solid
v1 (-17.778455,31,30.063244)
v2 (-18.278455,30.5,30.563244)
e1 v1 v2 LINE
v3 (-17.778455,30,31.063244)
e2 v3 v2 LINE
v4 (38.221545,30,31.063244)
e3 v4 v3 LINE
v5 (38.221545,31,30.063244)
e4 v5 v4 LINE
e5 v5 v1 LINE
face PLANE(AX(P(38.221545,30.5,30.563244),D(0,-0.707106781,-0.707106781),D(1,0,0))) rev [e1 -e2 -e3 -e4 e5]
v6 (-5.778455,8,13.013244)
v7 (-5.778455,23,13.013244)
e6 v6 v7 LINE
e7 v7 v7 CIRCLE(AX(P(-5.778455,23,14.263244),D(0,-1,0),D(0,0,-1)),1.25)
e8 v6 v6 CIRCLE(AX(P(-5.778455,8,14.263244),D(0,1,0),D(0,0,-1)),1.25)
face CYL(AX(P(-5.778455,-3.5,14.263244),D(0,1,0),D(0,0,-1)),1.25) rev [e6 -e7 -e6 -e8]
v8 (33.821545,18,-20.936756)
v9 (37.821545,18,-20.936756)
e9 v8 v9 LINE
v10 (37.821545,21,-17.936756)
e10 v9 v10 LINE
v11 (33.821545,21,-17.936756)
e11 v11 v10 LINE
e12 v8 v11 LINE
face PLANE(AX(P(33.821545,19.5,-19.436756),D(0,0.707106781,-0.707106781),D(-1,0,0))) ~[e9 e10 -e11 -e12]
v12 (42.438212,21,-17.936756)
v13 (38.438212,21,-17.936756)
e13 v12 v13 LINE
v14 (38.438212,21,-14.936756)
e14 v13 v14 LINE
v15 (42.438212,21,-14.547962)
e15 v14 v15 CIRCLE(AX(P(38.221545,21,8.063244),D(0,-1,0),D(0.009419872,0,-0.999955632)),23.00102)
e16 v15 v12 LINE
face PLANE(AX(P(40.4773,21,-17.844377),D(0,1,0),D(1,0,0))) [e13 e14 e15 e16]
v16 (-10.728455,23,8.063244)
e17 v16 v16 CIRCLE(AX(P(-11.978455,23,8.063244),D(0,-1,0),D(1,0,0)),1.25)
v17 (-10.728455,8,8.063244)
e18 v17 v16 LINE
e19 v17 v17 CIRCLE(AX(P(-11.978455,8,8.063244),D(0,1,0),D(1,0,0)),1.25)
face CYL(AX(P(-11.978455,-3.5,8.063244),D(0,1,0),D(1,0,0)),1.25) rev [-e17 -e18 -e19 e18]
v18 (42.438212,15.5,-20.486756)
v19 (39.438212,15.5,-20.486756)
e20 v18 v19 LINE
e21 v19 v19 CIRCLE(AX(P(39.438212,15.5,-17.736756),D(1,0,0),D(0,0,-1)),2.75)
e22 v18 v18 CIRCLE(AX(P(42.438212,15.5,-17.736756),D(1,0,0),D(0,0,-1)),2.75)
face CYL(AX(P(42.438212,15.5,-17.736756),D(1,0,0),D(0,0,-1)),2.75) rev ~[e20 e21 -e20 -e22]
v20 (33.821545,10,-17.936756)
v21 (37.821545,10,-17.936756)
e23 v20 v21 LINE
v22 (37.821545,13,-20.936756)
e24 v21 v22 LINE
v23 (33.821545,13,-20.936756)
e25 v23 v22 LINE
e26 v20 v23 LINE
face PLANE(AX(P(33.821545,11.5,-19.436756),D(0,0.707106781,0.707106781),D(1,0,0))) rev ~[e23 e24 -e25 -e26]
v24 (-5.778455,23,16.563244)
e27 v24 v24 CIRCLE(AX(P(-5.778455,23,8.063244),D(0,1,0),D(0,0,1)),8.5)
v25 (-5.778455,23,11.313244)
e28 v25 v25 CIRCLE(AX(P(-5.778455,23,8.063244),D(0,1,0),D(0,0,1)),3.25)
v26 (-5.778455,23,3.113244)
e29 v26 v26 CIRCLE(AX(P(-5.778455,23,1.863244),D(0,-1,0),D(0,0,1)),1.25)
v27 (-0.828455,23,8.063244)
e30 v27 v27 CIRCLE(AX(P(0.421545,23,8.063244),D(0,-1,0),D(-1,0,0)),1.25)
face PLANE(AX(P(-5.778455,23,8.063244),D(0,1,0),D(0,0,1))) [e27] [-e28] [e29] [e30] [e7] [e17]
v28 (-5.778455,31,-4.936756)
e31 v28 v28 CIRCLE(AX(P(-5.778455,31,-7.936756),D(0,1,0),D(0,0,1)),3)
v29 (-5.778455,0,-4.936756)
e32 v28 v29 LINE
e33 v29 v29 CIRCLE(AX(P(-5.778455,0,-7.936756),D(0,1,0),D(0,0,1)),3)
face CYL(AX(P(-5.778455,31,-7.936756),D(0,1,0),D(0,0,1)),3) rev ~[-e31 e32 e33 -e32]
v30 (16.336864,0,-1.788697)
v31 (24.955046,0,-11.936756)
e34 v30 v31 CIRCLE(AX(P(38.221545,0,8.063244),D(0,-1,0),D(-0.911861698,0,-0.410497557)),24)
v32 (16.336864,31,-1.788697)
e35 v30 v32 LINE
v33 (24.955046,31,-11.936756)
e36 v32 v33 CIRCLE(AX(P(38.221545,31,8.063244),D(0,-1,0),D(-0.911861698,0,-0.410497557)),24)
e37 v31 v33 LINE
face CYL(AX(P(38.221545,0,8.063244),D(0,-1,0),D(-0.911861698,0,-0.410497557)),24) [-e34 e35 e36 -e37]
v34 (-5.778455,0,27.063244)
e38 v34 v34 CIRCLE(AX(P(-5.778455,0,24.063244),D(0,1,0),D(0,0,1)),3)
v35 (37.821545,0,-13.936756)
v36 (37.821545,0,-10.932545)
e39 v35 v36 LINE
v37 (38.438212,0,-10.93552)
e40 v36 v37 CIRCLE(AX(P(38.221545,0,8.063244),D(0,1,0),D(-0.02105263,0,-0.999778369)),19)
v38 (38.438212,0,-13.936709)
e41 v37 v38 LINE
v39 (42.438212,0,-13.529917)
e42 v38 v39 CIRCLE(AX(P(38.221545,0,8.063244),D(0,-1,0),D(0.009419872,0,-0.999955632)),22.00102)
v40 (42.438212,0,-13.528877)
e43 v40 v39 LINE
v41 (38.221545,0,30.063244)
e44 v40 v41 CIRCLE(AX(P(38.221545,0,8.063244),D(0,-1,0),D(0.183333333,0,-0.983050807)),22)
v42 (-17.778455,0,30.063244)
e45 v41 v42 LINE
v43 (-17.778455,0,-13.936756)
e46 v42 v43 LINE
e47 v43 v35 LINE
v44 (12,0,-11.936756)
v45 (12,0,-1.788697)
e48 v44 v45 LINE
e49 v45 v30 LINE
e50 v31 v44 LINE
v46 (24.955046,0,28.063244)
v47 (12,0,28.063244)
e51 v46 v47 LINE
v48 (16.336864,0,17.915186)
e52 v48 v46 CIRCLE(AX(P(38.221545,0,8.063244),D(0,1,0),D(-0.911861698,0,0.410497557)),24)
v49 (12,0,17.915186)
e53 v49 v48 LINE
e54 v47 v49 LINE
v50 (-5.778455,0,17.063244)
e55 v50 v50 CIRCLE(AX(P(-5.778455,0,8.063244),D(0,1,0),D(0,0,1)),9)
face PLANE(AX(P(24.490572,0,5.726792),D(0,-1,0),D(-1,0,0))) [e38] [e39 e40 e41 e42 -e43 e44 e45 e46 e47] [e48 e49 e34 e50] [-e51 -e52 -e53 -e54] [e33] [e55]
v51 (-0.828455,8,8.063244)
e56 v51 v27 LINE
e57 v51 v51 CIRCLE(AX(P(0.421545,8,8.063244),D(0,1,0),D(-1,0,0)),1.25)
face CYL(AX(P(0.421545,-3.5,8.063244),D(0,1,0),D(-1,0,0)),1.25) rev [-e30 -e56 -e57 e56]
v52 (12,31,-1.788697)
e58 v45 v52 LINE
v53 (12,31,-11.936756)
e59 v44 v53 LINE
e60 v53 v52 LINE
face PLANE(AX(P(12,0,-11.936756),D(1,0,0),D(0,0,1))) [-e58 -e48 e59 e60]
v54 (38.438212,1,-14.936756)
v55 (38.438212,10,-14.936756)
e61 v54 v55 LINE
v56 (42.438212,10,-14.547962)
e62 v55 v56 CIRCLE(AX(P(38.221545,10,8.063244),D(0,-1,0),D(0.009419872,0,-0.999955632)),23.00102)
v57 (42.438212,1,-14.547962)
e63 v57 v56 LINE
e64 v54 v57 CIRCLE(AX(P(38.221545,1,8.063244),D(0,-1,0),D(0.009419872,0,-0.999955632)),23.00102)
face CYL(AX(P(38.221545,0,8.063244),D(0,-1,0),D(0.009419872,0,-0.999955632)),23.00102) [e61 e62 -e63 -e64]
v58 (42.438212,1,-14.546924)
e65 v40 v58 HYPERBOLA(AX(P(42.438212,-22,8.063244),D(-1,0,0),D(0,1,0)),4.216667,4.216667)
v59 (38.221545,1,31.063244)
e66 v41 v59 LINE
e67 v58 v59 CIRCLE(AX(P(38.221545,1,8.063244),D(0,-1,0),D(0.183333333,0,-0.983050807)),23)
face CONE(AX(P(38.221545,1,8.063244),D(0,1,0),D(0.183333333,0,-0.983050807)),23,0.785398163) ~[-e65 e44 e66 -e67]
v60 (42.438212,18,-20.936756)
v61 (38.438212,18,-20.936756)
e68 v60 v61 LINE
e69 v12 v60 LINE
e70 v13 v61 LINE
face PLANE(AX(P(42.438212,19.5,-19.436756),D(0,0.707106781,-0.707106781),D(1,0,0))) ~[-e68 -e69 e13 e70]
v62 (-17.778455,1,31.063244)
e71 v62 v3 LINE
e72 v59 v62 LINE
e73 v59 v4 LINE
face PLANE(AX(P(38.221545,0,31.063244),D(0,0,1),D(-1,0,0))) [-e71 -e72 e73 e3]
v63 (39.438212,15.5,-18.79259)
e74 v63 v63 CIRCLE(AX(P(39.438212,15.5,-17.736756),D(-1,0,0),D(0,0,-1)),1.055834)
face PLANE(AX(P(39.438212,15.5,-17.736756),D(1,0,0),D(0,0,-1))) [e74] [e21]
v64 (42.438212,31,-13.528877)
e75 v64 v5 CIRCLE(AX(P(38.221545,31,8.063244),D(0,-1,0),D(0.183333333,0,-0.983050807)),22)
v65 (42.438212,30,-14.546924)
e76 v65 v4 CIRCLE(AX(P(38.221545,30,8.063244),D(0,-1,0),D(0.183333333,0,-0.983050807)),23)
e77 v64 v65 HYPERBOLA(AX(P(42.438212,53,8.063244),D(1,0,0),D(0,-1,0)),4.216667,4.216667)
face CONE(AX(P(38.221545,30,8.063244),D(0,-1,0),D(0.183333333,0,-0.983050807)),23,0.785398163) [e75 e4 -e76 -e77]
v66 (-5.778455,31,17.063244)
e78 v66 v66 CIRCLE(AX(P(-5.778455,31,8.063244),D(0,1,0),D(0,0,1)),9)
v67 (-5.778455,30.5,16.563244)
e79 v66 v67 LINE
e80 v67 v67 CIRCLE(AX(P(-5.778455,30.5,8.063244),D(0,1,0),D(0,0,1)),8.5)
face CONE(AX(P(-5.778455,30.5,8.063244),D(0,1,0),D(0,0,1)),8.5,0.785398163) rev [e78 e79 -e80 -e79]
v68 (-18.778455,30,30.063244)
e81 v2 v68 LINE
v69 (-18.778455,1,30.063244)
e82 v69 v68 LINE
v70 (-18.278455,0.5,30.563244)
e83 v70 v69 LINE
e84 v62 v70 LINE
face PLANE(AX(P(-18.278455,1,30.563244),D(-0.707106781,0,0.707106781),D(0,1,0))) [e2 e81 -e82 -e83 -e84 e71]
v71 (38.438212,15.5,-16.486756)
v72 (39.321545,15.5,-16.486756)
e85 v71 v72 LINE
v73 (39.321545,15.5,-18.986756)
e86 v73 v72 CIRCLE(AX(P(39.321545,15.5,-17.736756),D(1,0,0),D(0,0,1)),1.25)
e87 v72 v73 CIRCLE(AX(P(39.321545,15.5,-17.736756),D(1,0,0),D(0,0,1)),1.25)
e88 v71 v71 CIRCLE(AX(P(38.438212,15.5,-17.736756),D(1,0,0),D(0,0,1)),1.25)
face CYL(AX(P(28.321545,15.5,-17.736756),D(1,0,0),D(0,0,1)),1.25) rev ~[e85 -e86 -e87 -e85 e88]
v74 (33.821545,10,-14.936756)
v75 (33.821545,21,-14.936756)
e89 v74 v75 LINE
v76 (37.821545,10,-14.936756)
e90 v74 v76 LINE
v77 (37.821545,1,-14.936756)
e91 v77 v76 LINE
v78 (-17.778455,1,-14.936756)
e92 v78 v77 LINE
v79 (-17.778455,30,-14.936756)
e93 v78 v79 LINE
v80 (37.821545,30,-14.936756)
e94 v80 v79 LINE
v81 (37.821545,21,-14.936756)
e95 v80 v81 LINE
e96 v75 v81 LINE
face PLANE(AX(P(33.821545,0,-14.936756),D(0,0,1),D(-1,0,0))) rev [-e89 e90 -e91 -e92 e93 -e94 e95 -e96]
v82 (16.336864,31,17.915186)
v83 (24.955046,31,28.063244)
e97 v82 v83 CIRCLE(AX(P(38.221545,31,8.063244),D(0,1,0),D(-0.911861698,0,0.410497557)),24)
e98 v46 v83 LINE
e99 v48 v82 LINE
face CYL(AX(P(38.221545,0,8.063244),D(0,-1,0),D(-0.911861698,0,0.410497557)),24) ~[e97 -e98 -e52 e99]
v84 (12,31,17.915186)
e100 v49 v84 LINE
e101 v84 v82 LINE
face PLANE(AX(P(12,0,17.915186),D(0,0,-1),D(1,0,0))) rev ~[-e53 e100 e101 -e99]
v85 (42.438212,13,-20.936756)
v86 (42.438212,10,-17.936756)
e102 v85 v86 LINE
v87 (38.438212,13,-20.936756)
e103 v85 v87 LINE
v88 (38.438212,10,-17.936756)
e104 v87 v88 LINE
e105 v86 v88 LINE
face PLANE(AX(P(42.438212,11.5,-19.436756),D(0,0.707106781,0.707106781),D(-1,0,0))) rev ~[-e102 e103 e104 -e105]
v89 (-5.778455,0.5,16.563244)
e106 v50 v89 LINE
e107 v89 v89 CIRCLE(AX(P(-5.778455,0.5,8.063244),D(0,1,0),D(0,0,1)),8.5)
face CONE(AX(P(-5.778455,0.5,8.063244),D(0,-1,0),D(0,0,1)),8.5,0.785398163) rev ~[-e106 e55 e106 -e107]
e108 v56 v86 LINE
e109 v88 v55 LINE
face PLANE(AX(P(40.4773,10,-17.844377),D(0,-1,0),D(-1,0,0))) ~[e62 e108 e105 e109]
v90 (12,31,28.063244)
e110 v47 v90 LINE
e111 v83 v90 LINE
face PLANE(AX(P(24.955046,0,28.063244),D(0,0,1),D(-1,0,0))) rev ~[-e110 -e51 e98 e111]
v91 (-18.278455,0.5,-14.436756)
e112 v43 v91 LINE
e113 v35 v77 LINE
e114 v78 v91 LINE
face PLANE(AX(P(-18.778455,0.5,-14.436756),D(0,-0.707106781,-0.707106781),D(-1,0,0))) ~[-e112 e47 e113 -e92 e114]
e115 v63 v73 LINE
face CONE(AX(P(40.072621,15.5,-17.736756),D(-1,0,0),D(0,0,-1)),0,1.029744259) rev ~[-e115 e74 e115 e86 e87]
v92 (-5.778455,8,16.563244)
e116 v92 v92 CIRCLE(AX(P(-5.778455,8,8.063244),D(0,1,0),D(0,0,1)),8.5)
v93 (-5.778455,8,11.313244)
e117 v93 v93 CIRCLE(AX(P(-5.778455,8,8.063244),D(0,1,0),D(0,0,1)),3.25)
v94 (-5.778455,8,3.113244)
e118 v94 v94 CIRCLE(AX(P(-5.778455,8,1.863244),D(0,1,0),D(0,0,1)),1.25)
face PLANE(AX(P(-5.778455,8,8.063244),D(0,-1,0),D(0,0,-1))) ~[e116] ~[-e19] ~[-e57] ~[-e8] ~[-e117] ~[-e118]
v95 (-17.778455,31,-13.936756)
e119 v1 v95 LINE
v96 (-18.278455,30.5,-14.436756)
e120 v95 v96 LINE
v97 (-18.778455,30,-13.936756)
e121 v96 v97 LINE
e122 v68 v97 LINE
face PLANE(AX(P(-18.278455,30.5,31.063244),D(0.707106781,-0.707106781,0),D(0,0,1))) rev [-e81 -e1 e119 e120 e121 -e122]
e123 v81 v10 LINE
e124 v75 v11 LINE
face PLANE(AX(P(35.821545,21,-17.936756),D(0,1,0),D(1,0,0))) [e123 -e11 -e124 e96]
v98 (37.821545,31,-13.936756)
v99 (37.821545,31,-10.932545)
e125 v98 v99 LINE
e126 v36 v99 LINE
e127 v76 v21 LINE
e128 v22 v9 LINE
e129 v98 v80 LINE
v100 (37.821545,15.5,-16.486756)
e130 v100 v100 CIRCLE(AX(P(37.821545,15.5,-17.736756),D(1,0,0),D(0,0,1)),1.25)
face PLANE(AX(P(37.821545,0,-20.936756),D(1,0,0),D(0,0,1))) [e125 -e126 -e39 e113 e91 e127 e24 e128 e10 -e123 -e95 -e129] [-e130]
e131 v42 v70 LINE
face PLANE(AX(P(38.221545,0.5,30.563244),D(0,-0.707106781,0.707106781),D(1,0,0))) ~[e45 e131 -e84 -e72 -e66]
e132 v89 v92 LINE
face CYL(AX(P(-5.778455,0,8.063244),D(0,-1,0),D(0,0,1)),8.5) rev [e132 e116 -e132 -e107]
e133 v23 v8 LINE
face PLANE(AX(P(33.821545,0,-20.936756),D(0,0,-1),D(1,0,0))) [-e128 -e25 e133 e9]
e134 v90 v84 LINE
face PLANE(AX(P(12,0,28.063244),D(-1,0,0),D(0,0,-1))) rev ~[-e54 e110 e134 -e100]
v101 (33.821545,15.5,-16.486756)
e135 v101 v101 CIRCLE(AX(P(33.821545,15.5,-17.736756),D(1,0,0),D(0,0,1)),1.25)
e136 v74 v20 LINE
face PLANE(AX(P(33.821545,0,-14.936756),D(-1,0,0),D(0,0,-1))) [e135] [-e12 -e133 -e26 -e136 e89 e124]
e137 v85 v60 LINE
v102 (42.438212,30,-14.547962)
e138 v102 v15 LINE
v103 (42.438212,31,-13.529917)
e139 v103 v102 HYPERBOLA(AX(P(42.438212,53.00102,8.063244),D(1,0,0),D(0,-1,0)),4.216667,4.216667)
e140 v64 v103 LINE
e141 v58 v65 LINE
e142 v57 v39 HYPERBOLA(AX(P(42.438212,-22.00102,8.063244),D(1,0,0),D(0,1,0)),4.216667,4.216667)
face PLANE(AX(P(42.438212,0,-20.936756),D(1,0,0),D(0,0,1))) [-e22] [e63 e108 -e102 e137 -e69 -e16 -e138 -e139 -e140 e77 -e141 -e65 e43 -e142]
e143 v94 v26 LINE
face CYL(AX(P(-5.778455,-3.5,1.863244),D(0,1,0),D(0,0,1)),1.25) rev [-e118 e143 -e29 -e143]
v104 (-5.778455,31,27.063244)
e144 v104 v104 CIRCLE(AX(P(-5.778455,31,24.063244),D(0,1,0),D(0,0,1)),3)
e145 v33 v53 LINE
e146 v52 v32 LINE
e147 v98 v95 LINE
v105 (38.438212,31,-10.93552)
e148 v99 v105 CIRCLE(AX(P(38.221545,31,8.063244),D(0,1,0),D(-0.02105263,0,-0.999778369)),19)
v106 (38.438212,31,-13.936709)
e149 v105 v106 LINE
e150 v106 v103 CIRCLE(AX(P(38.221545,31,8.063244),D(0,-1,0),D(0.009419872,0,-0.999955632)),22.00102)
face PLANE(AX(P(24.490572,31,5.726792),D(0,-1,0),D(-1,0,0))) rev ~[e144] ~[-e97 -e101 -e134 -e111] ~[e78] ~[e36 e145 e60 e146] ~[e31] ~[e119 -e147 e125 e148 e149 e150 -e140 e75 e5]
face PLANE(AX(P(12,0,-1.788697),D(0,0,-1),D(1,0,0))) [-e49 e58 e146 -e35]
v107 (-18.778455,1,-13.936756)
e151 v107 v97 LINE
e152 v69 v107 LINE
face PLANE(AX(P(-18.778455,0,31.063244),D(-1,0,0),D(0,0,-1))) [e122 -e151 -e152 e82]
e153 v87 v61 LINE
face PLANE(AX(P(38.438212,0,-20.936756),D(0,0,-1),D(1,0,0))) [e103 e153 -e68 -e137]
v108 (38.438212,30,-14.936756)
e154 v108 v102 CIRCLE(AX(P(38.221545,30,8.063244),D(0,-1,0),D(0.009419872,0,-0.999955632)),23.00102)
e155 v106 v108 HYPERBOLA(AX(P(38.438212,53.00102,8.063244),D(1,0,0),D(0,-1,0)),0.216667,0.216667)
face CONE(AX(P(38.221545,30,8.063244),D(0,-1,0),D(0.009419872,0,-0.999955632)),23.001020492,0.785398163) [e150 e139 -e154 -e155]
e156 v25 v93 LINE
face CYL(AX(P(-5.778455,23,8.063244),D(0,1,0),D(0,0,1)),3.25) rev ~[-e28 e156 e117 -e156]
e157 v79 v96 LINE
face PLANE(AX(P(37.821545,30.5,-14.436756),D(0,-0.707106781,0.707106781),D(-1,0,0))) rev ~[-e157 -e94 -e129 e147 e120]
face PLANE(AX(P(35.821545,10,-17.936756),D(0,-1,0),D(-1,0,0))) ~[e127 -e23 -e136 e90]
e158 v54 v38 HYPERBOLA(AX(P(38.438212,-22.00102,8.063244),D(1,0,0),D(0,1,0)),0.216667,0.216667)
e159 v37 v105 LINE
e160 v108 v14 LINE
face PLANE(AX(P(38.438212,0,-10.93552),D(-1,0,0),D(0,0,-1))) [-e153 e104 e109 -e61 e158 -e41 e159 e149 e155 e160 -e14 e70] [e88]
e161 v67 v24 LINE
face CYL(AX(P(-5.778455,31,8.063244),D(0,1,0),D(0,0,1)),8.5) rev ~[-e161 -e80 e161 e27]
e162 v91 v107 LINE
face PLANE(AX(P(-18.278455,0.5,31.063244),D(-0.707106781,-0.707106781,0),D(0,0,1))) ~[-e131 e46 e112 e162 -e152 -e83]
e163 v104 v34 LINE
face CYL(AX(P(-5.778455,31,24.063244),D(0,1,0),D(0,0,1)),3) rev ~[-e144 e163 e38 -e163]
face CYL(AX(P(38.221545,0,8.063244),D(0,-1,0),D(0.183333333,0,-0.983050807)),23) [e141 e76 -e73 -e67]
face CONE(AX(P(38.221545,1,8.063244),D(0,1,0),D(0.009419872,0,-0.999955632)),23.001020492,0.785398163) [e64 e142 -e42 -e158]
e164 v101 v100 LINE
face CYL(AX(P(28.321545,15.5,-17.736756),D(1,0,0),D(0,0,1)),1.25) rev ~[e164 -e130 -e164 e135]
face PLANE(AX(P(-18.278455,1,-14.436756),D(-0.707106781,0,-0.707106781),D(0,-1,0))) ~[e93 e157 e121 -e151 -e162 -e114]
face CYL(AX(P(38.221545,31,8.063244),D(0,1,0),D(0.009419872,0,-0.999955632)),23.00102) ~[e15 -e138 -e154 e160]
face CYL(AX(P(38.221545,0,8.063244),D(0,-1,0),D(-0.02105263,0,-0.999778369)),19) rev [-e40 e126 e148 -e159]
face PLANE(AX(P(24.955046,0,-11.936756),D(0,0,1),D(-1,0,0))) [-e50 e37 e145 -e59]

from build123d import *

# Parameters (mm, degrees)
BOSS_EXTRUDE1_DEPTH       = 31
SKETCH2_W                 = 4
SKETCH2_H                 = 6
CUT_EXTRUDE1_DEPTH        = 10
CHAMFER1_SIZE             = 3
SKETCH3_R                 = 1
CUT_EXTRUDE2_DEPTH        = 12
SKETCH4_R                 = 2.75
CUT_EXTRUDE3_DEPTH        = 3
M3X0_5_TAPPED_HOLE1_D     = 2.5
M3X0_5_TAPPED_HOLE1_DEPTH = 5.5
M3X0_5_TAPPED_HOLE1_TIP   = 0.751075774
CHAMFER2_SIZE             = 1
CHAMFER3_SIZE             = 1
CHAMFER4_SIZE             = 1
CHAMFER5_SIZE             = 1
CHAMFER6_SIZE             = 1
SKETCH6_R                 = 3
CUT_EXTRUDE4_DEPTH        = 76.325976363
SKETCH7_R                 = 8.5
CUT_EXTRUDE5_DEPTH        = 8
CHAMFER7_SIZE             = 0.5
CHAMFER8_SIZE             = 0.5
SKETCH8_R                 = 3.25
CUT_EXTRUDE6_DEPTH        = 73.401676189
SKETCH9_R                 = 1
CUT_EXTRUDE7_DEPTH        = 26
CIRPATTERN1_COUNT         = 4


with BuildPart() as part:
    # Sketch1 → Boss-Extrude1 (new body)
    with BuildSketch(Plane(origin=(0, 0, 0), x_dir=(1, 0, 0), z_dir=(0, 1, 0))):
        with BuildLine():
            Line((38.438211647, 10.935520299), (38.438211647, 20.93675572))
            Line((38.438211647, 20.93675572), (42.438211647, 20.93675572))
            Line((42.438211647, 20.93675572), (42.438211647, 14.546924278))
            ThreePointArc((42.438211647, 14.546924278), (61.123879761, -10.180568437), (38.22154498, -31.06324428))
            Line((38.22154498, -31.06324428), (-18.77845502, -31.06324428))
            Line((-18.77845502, -31.06324428), (-18.77845502, 14.93675572))
            Line((-18.77845502, 14.93675572), (33.82154498, 14.93675572))
            Line((33.82154498, 14.93675572), (33.82154498, 20.93675572))
            Line((33.82154498, 20.93675572), (37.82154498, 20.93675572))
            Line((37.82154498, 20.93675572), (37.82154498, 10.932544727))
            ThreePointArc((37.82154498, 10.932544727), (38.31322372, -27.063023095), (38.438211647, 10.935520299))
        make_face()
        with BuildLine():
            Line((12, 11.93675572), (12, 1.788697084))
            Line((12, 1.788697084), (16.336864234, 1.788697084))
            ThreePointArc((16.336864234, 1.788697084), (19.928181819, 7.472291251), (24.955045819, 11.93675572))
            Line((24.955045819, 11.93675572), (12, 11.93675572))
        make_face(mode=Mode.SUBTRACT)
        with BuildLine():
            Line((12, -17.915185645), (16.336864234, -17.915185645))
            ThreePointArc((16.336864234, -17.915185645), (19.928181819, -23.598779812), (24.955045819, -28.06324428))
            Line((24.955045819, -28.06324428), (12, -28.06324428))
            Line((12, -28.06324428), (12, -17.915185645))
        make_face(mode=Mode.SUBTRACT)
    extrude(amount=BOSS_EXTRUDE1_DEPTH)

    # Sketch2 → Cut-Extrude1 (cut)
    with BuildSketch(Plane(origin=(0, 31, 0), x_dir=(1, 0, 0), z_dir=(0, 1, 0))):
        with BuildLine():
            Line((38.438211647, 20.93675572), (38.438211647, 14.93675572))
            ThreePointArc((38.438211647, 14.93675572), (40.446719395, 14.829888823), (42.438211647, 14.547962381))
            Line((42.438211647, 14.547962381), (42.438211647, 20.93675572))
            Line((42.438211647, 20.93675572), (38.438211647, 20.93675572))
        make_face()
        with Locations((35.82154498, 17.93675572)):
            Rectangle(SKETCH2_W, SKETCH2_H)
    cut_extrude1 = extrude(amount=-CUT_EXTRUDE1_DEPTH, mode=Mode.SUBTRACT)

    # Mirror1: Cut-Extrude1 across plane
    add(cut_extrude1.mirror(Plane.ZX.offset(15.5)), mode=Mode.SUBTRACT)

    # Chamfer1
    chamfer1_edges = [part.edges().sort_by_distance(p)[0] for p in [
        (40.438211647, 10, -20.93675572),
        (35.82154498, 10, -20.93675572),
        (40.438211647, 21, -20.93675572),
        (35.82154498, 21, -20.93675572),
    ]]
    chamfer(chamfer1_edges, length=CHAMFER1_SIZE)

    # Sketch3 → Cut-Extrude2 (cut)
    with BuildSketch(Plane(origin=(42.438211647, 0, 0), x_dir=(0, 0, -1), z_dir=(1, 0, 0))):
        with Locations((17.73675572, 15.5)):
            Circle(SKETCH3_R)
    extrude(amount=-CUT_EXTRUDE2_DEPTH, mode=Mode.SUBTRACT)

    # Sketch4 → Cut-Extrude3 (cut)
    with BuildSketch(Plane(origin=(42.438211647, 0, 0), x_dir=(0, 0, -1), z_dir=(1, 0, 0))):
        with Locations((17.73675572, 15.5)):
            Circle(SKETCH4_R)
    extrude(amount=-CUT_EXTRUDE3_DEPTH, mode=Mode.SUBTRACT)

    # M3x0.5 Tapped Hole1
    with Locations(Plane(origin=(33.82154498, 15.5, -17.73675572), x_dir=(0, 0, -1), z_dir=(-1, 0, 0))):
        with Locations((0, 0)):
            Hole(M3X0_5_TAPPED_HOLE1_D / 2, depth=M3X0_5_TAPPED_HOLE1_DEPTH)
            with Locations((0, 0, -(M3X0_5_TAPPED_HOLE1_DEPTH + M3X0_5_TAPPED_HOLE1_TIP / 2))):  # 118° drill point
                Cone(0, M3X0_5_TAPPED_HOLE1_D / 2, M3X0_5_TAPPED_HOLE1_TIP, mode=Mode.SUBTRACT)

    # Chamfer2
    chamfer2_edges = [part.edges().sort_by_distance(p)[0] for p in [
        (61.123879761, 31, 10.180568437),
        (9.52154498, 31, -14.93675572),
        (-18.77845502, 31, 8.06324428),
        (9.72154498, 31, 31.06324428),
    ]]
    chamfer(chamfer2_edges, length=CHAMFER2_SIZE)

    # Chamfer3
    chamfer3_edges = [part.edges().sort_by_distance(p)[0] for p in [
        (40.446719395, 31, -14.829888823),
    ]]
    chamfer(chamfer3_edges, length=CHAMFER3_SIZE)

    # Chamfer4
    chamfer4_edges = [part.edges().sort_by_distance(p)[0] for p in [
        (9.52154498, 0, -14.93675572),
        (61.123879761, 0, 10.180568437),
        (9.72154498, 0, 31.06324428),
        (-18.77845502, 0, 8.06324428),
    ]]
    chamfer(chamfer4_edges, length=CHAMFER4_SIZE)

    # Chamfer5
    chamfer5_edges = [part.edges().sort_by_distance(p)[0] for p in [
        (40.446719395, 0, -14.829888823),
    ]]
    chamfer(chamfer5_edges, length=CHAMFER5_SIZE)

    # Chamfer6
    chamfer6_edges = [part.edges().sort_by_distance(p)[0] for p in [
        (-18.77845502, 15.5, -14.93675572),
        (-18.77845502, 15.5, 31.06324428),
    ]]
    chamfer(chamfer6_edges, length=CHAMFER6_SIZE)

    # Sketch6 → Cut-Extrude4 (cut, through all)
    with BuildSketch(Plane(origin=(0, 31, 0), x_dir=(1, 0, 0), z_dir=(0, 1, 0))):
        with Locations(Location((-5.77845502, -24.06324428, 0), (0, 0, 270))):
            Circle(SKETCH6_R)
        with Locations(Location((-5.77845502, 7.93675572, 0), (0, 0, 270))):
            Circle(SKETCH6_R)
    extrude(amount=-CUT_EXTRUDE4_DEPTH, mode=Mode.SUBTRACT)

    # Sketch7 → Cut-Extrude5 (cut)
    with BuildSketch(Plane(origin=(0, 31, 0), x_dir=(1, 0, 0), z_dir=(0, 1, 0))):
        with Locations(Location((-5.77845502, -8.06324428, 0), (0, 0, 270))):
            Circle(SKETCH7_R)
    cut_extrude5 = extrude(amount=-CUT_EXTRUDE5_DEPTH, mode=Mode.SUBTRACT)

    # Chamfer7
    chamfer7_edges = [part.edges().sort_by_distance(p)[0] for p in [
        (-5.77845502, 31, -0.43675572),
    ]]
    chamfer(chamfer7_edges, length=CHAMFER7_SIZE)

    # Mirror3: Cut-Extrude5 across plane
    add(cut_extrude5.mirror(Plane.ZX.offset(15.5)), mode=Mode.SUBTRACT)

    # Chamfer8
    chamfer8_edges = [part.edges().sort_by_distance(p)[0] for p in [
        (-5.77845502, 0, -0.43675572),
    ]]
    chamfer(chamfer8_edges, length=CHAMFER8_SIZE)

    # Sketch8 → Cut-Extrude6 (cut, through all)
    with BuildSketch(Plane(origin=(0, 23, 0), x_dir=(1, 0, 0), z_dir=(0, 1, 0))):
        with Locations(Location((-5.77845502, -8.06324428, 0), (0, 0, 270))):
            Circle(SKETCH8_R)
    extrude(amount=-CUT_EXTRUDE6_DEPTH, mode=Mode.SUBTRACT)

    # Sketch9 → Cut-Extrude7 (cut)
    with BuildSketch(Plane(origin=(0, 23, 0), x_dir=(1, 0, 0), z_dir=(0, 1, 0))):
        with Locations(Location((-5.77845502, -1.86324428, 0), (0, 0, 270))):
            Circle(SKETCH9_R)
    cut_extrude7 = extrude(amount=-CUT_EXTRUDE7_DEPTH, mode=Mode.SUBTRACT)

    # Sketch10 → M3x0.5 Tapped Hole2 (revolve, cut)
    with BuildSketch(Plane(origin=(-5.77845502, 23, 1.86324428), x_dir=(0, 0, 1), z_dir=(1, 0, 0))):
        Polygon((0, 0), (0, 27.251075774), (1.25, 26.5), (1.25, 0), align=None)
    m3x0_5_tapped_hole2 = revolve(axis=Axis((-5.77845502, 29.35, 1.86324428), (0, -1, 0)), mode=Mode.SUBTRACT)

    # CirPattern1: Cut-Extrude7, M3x0.5 Tapped Hole2 ×4 about axis
    cirpattern1_axis = Axis((-5.77845502, 0, 8.06324428), (0, 1, 0))
    add([cut_extrude7.rotate(cirpattern1_axis, i * 360 / CIRPATTERN1_COUNT) for i in range(1, CIRPATTERN1_COUNT)], mode=Mode.SUBTRACT)
    add([m3x0_5_tapped_hole2.rotate(cirpattern1_axis, i * 360 / CIRPATTERN1_COUNT) for i in range(1, CIRPATTERN1_COUNT)], mode=Mode.SUBTRACT)


solid = part.part
